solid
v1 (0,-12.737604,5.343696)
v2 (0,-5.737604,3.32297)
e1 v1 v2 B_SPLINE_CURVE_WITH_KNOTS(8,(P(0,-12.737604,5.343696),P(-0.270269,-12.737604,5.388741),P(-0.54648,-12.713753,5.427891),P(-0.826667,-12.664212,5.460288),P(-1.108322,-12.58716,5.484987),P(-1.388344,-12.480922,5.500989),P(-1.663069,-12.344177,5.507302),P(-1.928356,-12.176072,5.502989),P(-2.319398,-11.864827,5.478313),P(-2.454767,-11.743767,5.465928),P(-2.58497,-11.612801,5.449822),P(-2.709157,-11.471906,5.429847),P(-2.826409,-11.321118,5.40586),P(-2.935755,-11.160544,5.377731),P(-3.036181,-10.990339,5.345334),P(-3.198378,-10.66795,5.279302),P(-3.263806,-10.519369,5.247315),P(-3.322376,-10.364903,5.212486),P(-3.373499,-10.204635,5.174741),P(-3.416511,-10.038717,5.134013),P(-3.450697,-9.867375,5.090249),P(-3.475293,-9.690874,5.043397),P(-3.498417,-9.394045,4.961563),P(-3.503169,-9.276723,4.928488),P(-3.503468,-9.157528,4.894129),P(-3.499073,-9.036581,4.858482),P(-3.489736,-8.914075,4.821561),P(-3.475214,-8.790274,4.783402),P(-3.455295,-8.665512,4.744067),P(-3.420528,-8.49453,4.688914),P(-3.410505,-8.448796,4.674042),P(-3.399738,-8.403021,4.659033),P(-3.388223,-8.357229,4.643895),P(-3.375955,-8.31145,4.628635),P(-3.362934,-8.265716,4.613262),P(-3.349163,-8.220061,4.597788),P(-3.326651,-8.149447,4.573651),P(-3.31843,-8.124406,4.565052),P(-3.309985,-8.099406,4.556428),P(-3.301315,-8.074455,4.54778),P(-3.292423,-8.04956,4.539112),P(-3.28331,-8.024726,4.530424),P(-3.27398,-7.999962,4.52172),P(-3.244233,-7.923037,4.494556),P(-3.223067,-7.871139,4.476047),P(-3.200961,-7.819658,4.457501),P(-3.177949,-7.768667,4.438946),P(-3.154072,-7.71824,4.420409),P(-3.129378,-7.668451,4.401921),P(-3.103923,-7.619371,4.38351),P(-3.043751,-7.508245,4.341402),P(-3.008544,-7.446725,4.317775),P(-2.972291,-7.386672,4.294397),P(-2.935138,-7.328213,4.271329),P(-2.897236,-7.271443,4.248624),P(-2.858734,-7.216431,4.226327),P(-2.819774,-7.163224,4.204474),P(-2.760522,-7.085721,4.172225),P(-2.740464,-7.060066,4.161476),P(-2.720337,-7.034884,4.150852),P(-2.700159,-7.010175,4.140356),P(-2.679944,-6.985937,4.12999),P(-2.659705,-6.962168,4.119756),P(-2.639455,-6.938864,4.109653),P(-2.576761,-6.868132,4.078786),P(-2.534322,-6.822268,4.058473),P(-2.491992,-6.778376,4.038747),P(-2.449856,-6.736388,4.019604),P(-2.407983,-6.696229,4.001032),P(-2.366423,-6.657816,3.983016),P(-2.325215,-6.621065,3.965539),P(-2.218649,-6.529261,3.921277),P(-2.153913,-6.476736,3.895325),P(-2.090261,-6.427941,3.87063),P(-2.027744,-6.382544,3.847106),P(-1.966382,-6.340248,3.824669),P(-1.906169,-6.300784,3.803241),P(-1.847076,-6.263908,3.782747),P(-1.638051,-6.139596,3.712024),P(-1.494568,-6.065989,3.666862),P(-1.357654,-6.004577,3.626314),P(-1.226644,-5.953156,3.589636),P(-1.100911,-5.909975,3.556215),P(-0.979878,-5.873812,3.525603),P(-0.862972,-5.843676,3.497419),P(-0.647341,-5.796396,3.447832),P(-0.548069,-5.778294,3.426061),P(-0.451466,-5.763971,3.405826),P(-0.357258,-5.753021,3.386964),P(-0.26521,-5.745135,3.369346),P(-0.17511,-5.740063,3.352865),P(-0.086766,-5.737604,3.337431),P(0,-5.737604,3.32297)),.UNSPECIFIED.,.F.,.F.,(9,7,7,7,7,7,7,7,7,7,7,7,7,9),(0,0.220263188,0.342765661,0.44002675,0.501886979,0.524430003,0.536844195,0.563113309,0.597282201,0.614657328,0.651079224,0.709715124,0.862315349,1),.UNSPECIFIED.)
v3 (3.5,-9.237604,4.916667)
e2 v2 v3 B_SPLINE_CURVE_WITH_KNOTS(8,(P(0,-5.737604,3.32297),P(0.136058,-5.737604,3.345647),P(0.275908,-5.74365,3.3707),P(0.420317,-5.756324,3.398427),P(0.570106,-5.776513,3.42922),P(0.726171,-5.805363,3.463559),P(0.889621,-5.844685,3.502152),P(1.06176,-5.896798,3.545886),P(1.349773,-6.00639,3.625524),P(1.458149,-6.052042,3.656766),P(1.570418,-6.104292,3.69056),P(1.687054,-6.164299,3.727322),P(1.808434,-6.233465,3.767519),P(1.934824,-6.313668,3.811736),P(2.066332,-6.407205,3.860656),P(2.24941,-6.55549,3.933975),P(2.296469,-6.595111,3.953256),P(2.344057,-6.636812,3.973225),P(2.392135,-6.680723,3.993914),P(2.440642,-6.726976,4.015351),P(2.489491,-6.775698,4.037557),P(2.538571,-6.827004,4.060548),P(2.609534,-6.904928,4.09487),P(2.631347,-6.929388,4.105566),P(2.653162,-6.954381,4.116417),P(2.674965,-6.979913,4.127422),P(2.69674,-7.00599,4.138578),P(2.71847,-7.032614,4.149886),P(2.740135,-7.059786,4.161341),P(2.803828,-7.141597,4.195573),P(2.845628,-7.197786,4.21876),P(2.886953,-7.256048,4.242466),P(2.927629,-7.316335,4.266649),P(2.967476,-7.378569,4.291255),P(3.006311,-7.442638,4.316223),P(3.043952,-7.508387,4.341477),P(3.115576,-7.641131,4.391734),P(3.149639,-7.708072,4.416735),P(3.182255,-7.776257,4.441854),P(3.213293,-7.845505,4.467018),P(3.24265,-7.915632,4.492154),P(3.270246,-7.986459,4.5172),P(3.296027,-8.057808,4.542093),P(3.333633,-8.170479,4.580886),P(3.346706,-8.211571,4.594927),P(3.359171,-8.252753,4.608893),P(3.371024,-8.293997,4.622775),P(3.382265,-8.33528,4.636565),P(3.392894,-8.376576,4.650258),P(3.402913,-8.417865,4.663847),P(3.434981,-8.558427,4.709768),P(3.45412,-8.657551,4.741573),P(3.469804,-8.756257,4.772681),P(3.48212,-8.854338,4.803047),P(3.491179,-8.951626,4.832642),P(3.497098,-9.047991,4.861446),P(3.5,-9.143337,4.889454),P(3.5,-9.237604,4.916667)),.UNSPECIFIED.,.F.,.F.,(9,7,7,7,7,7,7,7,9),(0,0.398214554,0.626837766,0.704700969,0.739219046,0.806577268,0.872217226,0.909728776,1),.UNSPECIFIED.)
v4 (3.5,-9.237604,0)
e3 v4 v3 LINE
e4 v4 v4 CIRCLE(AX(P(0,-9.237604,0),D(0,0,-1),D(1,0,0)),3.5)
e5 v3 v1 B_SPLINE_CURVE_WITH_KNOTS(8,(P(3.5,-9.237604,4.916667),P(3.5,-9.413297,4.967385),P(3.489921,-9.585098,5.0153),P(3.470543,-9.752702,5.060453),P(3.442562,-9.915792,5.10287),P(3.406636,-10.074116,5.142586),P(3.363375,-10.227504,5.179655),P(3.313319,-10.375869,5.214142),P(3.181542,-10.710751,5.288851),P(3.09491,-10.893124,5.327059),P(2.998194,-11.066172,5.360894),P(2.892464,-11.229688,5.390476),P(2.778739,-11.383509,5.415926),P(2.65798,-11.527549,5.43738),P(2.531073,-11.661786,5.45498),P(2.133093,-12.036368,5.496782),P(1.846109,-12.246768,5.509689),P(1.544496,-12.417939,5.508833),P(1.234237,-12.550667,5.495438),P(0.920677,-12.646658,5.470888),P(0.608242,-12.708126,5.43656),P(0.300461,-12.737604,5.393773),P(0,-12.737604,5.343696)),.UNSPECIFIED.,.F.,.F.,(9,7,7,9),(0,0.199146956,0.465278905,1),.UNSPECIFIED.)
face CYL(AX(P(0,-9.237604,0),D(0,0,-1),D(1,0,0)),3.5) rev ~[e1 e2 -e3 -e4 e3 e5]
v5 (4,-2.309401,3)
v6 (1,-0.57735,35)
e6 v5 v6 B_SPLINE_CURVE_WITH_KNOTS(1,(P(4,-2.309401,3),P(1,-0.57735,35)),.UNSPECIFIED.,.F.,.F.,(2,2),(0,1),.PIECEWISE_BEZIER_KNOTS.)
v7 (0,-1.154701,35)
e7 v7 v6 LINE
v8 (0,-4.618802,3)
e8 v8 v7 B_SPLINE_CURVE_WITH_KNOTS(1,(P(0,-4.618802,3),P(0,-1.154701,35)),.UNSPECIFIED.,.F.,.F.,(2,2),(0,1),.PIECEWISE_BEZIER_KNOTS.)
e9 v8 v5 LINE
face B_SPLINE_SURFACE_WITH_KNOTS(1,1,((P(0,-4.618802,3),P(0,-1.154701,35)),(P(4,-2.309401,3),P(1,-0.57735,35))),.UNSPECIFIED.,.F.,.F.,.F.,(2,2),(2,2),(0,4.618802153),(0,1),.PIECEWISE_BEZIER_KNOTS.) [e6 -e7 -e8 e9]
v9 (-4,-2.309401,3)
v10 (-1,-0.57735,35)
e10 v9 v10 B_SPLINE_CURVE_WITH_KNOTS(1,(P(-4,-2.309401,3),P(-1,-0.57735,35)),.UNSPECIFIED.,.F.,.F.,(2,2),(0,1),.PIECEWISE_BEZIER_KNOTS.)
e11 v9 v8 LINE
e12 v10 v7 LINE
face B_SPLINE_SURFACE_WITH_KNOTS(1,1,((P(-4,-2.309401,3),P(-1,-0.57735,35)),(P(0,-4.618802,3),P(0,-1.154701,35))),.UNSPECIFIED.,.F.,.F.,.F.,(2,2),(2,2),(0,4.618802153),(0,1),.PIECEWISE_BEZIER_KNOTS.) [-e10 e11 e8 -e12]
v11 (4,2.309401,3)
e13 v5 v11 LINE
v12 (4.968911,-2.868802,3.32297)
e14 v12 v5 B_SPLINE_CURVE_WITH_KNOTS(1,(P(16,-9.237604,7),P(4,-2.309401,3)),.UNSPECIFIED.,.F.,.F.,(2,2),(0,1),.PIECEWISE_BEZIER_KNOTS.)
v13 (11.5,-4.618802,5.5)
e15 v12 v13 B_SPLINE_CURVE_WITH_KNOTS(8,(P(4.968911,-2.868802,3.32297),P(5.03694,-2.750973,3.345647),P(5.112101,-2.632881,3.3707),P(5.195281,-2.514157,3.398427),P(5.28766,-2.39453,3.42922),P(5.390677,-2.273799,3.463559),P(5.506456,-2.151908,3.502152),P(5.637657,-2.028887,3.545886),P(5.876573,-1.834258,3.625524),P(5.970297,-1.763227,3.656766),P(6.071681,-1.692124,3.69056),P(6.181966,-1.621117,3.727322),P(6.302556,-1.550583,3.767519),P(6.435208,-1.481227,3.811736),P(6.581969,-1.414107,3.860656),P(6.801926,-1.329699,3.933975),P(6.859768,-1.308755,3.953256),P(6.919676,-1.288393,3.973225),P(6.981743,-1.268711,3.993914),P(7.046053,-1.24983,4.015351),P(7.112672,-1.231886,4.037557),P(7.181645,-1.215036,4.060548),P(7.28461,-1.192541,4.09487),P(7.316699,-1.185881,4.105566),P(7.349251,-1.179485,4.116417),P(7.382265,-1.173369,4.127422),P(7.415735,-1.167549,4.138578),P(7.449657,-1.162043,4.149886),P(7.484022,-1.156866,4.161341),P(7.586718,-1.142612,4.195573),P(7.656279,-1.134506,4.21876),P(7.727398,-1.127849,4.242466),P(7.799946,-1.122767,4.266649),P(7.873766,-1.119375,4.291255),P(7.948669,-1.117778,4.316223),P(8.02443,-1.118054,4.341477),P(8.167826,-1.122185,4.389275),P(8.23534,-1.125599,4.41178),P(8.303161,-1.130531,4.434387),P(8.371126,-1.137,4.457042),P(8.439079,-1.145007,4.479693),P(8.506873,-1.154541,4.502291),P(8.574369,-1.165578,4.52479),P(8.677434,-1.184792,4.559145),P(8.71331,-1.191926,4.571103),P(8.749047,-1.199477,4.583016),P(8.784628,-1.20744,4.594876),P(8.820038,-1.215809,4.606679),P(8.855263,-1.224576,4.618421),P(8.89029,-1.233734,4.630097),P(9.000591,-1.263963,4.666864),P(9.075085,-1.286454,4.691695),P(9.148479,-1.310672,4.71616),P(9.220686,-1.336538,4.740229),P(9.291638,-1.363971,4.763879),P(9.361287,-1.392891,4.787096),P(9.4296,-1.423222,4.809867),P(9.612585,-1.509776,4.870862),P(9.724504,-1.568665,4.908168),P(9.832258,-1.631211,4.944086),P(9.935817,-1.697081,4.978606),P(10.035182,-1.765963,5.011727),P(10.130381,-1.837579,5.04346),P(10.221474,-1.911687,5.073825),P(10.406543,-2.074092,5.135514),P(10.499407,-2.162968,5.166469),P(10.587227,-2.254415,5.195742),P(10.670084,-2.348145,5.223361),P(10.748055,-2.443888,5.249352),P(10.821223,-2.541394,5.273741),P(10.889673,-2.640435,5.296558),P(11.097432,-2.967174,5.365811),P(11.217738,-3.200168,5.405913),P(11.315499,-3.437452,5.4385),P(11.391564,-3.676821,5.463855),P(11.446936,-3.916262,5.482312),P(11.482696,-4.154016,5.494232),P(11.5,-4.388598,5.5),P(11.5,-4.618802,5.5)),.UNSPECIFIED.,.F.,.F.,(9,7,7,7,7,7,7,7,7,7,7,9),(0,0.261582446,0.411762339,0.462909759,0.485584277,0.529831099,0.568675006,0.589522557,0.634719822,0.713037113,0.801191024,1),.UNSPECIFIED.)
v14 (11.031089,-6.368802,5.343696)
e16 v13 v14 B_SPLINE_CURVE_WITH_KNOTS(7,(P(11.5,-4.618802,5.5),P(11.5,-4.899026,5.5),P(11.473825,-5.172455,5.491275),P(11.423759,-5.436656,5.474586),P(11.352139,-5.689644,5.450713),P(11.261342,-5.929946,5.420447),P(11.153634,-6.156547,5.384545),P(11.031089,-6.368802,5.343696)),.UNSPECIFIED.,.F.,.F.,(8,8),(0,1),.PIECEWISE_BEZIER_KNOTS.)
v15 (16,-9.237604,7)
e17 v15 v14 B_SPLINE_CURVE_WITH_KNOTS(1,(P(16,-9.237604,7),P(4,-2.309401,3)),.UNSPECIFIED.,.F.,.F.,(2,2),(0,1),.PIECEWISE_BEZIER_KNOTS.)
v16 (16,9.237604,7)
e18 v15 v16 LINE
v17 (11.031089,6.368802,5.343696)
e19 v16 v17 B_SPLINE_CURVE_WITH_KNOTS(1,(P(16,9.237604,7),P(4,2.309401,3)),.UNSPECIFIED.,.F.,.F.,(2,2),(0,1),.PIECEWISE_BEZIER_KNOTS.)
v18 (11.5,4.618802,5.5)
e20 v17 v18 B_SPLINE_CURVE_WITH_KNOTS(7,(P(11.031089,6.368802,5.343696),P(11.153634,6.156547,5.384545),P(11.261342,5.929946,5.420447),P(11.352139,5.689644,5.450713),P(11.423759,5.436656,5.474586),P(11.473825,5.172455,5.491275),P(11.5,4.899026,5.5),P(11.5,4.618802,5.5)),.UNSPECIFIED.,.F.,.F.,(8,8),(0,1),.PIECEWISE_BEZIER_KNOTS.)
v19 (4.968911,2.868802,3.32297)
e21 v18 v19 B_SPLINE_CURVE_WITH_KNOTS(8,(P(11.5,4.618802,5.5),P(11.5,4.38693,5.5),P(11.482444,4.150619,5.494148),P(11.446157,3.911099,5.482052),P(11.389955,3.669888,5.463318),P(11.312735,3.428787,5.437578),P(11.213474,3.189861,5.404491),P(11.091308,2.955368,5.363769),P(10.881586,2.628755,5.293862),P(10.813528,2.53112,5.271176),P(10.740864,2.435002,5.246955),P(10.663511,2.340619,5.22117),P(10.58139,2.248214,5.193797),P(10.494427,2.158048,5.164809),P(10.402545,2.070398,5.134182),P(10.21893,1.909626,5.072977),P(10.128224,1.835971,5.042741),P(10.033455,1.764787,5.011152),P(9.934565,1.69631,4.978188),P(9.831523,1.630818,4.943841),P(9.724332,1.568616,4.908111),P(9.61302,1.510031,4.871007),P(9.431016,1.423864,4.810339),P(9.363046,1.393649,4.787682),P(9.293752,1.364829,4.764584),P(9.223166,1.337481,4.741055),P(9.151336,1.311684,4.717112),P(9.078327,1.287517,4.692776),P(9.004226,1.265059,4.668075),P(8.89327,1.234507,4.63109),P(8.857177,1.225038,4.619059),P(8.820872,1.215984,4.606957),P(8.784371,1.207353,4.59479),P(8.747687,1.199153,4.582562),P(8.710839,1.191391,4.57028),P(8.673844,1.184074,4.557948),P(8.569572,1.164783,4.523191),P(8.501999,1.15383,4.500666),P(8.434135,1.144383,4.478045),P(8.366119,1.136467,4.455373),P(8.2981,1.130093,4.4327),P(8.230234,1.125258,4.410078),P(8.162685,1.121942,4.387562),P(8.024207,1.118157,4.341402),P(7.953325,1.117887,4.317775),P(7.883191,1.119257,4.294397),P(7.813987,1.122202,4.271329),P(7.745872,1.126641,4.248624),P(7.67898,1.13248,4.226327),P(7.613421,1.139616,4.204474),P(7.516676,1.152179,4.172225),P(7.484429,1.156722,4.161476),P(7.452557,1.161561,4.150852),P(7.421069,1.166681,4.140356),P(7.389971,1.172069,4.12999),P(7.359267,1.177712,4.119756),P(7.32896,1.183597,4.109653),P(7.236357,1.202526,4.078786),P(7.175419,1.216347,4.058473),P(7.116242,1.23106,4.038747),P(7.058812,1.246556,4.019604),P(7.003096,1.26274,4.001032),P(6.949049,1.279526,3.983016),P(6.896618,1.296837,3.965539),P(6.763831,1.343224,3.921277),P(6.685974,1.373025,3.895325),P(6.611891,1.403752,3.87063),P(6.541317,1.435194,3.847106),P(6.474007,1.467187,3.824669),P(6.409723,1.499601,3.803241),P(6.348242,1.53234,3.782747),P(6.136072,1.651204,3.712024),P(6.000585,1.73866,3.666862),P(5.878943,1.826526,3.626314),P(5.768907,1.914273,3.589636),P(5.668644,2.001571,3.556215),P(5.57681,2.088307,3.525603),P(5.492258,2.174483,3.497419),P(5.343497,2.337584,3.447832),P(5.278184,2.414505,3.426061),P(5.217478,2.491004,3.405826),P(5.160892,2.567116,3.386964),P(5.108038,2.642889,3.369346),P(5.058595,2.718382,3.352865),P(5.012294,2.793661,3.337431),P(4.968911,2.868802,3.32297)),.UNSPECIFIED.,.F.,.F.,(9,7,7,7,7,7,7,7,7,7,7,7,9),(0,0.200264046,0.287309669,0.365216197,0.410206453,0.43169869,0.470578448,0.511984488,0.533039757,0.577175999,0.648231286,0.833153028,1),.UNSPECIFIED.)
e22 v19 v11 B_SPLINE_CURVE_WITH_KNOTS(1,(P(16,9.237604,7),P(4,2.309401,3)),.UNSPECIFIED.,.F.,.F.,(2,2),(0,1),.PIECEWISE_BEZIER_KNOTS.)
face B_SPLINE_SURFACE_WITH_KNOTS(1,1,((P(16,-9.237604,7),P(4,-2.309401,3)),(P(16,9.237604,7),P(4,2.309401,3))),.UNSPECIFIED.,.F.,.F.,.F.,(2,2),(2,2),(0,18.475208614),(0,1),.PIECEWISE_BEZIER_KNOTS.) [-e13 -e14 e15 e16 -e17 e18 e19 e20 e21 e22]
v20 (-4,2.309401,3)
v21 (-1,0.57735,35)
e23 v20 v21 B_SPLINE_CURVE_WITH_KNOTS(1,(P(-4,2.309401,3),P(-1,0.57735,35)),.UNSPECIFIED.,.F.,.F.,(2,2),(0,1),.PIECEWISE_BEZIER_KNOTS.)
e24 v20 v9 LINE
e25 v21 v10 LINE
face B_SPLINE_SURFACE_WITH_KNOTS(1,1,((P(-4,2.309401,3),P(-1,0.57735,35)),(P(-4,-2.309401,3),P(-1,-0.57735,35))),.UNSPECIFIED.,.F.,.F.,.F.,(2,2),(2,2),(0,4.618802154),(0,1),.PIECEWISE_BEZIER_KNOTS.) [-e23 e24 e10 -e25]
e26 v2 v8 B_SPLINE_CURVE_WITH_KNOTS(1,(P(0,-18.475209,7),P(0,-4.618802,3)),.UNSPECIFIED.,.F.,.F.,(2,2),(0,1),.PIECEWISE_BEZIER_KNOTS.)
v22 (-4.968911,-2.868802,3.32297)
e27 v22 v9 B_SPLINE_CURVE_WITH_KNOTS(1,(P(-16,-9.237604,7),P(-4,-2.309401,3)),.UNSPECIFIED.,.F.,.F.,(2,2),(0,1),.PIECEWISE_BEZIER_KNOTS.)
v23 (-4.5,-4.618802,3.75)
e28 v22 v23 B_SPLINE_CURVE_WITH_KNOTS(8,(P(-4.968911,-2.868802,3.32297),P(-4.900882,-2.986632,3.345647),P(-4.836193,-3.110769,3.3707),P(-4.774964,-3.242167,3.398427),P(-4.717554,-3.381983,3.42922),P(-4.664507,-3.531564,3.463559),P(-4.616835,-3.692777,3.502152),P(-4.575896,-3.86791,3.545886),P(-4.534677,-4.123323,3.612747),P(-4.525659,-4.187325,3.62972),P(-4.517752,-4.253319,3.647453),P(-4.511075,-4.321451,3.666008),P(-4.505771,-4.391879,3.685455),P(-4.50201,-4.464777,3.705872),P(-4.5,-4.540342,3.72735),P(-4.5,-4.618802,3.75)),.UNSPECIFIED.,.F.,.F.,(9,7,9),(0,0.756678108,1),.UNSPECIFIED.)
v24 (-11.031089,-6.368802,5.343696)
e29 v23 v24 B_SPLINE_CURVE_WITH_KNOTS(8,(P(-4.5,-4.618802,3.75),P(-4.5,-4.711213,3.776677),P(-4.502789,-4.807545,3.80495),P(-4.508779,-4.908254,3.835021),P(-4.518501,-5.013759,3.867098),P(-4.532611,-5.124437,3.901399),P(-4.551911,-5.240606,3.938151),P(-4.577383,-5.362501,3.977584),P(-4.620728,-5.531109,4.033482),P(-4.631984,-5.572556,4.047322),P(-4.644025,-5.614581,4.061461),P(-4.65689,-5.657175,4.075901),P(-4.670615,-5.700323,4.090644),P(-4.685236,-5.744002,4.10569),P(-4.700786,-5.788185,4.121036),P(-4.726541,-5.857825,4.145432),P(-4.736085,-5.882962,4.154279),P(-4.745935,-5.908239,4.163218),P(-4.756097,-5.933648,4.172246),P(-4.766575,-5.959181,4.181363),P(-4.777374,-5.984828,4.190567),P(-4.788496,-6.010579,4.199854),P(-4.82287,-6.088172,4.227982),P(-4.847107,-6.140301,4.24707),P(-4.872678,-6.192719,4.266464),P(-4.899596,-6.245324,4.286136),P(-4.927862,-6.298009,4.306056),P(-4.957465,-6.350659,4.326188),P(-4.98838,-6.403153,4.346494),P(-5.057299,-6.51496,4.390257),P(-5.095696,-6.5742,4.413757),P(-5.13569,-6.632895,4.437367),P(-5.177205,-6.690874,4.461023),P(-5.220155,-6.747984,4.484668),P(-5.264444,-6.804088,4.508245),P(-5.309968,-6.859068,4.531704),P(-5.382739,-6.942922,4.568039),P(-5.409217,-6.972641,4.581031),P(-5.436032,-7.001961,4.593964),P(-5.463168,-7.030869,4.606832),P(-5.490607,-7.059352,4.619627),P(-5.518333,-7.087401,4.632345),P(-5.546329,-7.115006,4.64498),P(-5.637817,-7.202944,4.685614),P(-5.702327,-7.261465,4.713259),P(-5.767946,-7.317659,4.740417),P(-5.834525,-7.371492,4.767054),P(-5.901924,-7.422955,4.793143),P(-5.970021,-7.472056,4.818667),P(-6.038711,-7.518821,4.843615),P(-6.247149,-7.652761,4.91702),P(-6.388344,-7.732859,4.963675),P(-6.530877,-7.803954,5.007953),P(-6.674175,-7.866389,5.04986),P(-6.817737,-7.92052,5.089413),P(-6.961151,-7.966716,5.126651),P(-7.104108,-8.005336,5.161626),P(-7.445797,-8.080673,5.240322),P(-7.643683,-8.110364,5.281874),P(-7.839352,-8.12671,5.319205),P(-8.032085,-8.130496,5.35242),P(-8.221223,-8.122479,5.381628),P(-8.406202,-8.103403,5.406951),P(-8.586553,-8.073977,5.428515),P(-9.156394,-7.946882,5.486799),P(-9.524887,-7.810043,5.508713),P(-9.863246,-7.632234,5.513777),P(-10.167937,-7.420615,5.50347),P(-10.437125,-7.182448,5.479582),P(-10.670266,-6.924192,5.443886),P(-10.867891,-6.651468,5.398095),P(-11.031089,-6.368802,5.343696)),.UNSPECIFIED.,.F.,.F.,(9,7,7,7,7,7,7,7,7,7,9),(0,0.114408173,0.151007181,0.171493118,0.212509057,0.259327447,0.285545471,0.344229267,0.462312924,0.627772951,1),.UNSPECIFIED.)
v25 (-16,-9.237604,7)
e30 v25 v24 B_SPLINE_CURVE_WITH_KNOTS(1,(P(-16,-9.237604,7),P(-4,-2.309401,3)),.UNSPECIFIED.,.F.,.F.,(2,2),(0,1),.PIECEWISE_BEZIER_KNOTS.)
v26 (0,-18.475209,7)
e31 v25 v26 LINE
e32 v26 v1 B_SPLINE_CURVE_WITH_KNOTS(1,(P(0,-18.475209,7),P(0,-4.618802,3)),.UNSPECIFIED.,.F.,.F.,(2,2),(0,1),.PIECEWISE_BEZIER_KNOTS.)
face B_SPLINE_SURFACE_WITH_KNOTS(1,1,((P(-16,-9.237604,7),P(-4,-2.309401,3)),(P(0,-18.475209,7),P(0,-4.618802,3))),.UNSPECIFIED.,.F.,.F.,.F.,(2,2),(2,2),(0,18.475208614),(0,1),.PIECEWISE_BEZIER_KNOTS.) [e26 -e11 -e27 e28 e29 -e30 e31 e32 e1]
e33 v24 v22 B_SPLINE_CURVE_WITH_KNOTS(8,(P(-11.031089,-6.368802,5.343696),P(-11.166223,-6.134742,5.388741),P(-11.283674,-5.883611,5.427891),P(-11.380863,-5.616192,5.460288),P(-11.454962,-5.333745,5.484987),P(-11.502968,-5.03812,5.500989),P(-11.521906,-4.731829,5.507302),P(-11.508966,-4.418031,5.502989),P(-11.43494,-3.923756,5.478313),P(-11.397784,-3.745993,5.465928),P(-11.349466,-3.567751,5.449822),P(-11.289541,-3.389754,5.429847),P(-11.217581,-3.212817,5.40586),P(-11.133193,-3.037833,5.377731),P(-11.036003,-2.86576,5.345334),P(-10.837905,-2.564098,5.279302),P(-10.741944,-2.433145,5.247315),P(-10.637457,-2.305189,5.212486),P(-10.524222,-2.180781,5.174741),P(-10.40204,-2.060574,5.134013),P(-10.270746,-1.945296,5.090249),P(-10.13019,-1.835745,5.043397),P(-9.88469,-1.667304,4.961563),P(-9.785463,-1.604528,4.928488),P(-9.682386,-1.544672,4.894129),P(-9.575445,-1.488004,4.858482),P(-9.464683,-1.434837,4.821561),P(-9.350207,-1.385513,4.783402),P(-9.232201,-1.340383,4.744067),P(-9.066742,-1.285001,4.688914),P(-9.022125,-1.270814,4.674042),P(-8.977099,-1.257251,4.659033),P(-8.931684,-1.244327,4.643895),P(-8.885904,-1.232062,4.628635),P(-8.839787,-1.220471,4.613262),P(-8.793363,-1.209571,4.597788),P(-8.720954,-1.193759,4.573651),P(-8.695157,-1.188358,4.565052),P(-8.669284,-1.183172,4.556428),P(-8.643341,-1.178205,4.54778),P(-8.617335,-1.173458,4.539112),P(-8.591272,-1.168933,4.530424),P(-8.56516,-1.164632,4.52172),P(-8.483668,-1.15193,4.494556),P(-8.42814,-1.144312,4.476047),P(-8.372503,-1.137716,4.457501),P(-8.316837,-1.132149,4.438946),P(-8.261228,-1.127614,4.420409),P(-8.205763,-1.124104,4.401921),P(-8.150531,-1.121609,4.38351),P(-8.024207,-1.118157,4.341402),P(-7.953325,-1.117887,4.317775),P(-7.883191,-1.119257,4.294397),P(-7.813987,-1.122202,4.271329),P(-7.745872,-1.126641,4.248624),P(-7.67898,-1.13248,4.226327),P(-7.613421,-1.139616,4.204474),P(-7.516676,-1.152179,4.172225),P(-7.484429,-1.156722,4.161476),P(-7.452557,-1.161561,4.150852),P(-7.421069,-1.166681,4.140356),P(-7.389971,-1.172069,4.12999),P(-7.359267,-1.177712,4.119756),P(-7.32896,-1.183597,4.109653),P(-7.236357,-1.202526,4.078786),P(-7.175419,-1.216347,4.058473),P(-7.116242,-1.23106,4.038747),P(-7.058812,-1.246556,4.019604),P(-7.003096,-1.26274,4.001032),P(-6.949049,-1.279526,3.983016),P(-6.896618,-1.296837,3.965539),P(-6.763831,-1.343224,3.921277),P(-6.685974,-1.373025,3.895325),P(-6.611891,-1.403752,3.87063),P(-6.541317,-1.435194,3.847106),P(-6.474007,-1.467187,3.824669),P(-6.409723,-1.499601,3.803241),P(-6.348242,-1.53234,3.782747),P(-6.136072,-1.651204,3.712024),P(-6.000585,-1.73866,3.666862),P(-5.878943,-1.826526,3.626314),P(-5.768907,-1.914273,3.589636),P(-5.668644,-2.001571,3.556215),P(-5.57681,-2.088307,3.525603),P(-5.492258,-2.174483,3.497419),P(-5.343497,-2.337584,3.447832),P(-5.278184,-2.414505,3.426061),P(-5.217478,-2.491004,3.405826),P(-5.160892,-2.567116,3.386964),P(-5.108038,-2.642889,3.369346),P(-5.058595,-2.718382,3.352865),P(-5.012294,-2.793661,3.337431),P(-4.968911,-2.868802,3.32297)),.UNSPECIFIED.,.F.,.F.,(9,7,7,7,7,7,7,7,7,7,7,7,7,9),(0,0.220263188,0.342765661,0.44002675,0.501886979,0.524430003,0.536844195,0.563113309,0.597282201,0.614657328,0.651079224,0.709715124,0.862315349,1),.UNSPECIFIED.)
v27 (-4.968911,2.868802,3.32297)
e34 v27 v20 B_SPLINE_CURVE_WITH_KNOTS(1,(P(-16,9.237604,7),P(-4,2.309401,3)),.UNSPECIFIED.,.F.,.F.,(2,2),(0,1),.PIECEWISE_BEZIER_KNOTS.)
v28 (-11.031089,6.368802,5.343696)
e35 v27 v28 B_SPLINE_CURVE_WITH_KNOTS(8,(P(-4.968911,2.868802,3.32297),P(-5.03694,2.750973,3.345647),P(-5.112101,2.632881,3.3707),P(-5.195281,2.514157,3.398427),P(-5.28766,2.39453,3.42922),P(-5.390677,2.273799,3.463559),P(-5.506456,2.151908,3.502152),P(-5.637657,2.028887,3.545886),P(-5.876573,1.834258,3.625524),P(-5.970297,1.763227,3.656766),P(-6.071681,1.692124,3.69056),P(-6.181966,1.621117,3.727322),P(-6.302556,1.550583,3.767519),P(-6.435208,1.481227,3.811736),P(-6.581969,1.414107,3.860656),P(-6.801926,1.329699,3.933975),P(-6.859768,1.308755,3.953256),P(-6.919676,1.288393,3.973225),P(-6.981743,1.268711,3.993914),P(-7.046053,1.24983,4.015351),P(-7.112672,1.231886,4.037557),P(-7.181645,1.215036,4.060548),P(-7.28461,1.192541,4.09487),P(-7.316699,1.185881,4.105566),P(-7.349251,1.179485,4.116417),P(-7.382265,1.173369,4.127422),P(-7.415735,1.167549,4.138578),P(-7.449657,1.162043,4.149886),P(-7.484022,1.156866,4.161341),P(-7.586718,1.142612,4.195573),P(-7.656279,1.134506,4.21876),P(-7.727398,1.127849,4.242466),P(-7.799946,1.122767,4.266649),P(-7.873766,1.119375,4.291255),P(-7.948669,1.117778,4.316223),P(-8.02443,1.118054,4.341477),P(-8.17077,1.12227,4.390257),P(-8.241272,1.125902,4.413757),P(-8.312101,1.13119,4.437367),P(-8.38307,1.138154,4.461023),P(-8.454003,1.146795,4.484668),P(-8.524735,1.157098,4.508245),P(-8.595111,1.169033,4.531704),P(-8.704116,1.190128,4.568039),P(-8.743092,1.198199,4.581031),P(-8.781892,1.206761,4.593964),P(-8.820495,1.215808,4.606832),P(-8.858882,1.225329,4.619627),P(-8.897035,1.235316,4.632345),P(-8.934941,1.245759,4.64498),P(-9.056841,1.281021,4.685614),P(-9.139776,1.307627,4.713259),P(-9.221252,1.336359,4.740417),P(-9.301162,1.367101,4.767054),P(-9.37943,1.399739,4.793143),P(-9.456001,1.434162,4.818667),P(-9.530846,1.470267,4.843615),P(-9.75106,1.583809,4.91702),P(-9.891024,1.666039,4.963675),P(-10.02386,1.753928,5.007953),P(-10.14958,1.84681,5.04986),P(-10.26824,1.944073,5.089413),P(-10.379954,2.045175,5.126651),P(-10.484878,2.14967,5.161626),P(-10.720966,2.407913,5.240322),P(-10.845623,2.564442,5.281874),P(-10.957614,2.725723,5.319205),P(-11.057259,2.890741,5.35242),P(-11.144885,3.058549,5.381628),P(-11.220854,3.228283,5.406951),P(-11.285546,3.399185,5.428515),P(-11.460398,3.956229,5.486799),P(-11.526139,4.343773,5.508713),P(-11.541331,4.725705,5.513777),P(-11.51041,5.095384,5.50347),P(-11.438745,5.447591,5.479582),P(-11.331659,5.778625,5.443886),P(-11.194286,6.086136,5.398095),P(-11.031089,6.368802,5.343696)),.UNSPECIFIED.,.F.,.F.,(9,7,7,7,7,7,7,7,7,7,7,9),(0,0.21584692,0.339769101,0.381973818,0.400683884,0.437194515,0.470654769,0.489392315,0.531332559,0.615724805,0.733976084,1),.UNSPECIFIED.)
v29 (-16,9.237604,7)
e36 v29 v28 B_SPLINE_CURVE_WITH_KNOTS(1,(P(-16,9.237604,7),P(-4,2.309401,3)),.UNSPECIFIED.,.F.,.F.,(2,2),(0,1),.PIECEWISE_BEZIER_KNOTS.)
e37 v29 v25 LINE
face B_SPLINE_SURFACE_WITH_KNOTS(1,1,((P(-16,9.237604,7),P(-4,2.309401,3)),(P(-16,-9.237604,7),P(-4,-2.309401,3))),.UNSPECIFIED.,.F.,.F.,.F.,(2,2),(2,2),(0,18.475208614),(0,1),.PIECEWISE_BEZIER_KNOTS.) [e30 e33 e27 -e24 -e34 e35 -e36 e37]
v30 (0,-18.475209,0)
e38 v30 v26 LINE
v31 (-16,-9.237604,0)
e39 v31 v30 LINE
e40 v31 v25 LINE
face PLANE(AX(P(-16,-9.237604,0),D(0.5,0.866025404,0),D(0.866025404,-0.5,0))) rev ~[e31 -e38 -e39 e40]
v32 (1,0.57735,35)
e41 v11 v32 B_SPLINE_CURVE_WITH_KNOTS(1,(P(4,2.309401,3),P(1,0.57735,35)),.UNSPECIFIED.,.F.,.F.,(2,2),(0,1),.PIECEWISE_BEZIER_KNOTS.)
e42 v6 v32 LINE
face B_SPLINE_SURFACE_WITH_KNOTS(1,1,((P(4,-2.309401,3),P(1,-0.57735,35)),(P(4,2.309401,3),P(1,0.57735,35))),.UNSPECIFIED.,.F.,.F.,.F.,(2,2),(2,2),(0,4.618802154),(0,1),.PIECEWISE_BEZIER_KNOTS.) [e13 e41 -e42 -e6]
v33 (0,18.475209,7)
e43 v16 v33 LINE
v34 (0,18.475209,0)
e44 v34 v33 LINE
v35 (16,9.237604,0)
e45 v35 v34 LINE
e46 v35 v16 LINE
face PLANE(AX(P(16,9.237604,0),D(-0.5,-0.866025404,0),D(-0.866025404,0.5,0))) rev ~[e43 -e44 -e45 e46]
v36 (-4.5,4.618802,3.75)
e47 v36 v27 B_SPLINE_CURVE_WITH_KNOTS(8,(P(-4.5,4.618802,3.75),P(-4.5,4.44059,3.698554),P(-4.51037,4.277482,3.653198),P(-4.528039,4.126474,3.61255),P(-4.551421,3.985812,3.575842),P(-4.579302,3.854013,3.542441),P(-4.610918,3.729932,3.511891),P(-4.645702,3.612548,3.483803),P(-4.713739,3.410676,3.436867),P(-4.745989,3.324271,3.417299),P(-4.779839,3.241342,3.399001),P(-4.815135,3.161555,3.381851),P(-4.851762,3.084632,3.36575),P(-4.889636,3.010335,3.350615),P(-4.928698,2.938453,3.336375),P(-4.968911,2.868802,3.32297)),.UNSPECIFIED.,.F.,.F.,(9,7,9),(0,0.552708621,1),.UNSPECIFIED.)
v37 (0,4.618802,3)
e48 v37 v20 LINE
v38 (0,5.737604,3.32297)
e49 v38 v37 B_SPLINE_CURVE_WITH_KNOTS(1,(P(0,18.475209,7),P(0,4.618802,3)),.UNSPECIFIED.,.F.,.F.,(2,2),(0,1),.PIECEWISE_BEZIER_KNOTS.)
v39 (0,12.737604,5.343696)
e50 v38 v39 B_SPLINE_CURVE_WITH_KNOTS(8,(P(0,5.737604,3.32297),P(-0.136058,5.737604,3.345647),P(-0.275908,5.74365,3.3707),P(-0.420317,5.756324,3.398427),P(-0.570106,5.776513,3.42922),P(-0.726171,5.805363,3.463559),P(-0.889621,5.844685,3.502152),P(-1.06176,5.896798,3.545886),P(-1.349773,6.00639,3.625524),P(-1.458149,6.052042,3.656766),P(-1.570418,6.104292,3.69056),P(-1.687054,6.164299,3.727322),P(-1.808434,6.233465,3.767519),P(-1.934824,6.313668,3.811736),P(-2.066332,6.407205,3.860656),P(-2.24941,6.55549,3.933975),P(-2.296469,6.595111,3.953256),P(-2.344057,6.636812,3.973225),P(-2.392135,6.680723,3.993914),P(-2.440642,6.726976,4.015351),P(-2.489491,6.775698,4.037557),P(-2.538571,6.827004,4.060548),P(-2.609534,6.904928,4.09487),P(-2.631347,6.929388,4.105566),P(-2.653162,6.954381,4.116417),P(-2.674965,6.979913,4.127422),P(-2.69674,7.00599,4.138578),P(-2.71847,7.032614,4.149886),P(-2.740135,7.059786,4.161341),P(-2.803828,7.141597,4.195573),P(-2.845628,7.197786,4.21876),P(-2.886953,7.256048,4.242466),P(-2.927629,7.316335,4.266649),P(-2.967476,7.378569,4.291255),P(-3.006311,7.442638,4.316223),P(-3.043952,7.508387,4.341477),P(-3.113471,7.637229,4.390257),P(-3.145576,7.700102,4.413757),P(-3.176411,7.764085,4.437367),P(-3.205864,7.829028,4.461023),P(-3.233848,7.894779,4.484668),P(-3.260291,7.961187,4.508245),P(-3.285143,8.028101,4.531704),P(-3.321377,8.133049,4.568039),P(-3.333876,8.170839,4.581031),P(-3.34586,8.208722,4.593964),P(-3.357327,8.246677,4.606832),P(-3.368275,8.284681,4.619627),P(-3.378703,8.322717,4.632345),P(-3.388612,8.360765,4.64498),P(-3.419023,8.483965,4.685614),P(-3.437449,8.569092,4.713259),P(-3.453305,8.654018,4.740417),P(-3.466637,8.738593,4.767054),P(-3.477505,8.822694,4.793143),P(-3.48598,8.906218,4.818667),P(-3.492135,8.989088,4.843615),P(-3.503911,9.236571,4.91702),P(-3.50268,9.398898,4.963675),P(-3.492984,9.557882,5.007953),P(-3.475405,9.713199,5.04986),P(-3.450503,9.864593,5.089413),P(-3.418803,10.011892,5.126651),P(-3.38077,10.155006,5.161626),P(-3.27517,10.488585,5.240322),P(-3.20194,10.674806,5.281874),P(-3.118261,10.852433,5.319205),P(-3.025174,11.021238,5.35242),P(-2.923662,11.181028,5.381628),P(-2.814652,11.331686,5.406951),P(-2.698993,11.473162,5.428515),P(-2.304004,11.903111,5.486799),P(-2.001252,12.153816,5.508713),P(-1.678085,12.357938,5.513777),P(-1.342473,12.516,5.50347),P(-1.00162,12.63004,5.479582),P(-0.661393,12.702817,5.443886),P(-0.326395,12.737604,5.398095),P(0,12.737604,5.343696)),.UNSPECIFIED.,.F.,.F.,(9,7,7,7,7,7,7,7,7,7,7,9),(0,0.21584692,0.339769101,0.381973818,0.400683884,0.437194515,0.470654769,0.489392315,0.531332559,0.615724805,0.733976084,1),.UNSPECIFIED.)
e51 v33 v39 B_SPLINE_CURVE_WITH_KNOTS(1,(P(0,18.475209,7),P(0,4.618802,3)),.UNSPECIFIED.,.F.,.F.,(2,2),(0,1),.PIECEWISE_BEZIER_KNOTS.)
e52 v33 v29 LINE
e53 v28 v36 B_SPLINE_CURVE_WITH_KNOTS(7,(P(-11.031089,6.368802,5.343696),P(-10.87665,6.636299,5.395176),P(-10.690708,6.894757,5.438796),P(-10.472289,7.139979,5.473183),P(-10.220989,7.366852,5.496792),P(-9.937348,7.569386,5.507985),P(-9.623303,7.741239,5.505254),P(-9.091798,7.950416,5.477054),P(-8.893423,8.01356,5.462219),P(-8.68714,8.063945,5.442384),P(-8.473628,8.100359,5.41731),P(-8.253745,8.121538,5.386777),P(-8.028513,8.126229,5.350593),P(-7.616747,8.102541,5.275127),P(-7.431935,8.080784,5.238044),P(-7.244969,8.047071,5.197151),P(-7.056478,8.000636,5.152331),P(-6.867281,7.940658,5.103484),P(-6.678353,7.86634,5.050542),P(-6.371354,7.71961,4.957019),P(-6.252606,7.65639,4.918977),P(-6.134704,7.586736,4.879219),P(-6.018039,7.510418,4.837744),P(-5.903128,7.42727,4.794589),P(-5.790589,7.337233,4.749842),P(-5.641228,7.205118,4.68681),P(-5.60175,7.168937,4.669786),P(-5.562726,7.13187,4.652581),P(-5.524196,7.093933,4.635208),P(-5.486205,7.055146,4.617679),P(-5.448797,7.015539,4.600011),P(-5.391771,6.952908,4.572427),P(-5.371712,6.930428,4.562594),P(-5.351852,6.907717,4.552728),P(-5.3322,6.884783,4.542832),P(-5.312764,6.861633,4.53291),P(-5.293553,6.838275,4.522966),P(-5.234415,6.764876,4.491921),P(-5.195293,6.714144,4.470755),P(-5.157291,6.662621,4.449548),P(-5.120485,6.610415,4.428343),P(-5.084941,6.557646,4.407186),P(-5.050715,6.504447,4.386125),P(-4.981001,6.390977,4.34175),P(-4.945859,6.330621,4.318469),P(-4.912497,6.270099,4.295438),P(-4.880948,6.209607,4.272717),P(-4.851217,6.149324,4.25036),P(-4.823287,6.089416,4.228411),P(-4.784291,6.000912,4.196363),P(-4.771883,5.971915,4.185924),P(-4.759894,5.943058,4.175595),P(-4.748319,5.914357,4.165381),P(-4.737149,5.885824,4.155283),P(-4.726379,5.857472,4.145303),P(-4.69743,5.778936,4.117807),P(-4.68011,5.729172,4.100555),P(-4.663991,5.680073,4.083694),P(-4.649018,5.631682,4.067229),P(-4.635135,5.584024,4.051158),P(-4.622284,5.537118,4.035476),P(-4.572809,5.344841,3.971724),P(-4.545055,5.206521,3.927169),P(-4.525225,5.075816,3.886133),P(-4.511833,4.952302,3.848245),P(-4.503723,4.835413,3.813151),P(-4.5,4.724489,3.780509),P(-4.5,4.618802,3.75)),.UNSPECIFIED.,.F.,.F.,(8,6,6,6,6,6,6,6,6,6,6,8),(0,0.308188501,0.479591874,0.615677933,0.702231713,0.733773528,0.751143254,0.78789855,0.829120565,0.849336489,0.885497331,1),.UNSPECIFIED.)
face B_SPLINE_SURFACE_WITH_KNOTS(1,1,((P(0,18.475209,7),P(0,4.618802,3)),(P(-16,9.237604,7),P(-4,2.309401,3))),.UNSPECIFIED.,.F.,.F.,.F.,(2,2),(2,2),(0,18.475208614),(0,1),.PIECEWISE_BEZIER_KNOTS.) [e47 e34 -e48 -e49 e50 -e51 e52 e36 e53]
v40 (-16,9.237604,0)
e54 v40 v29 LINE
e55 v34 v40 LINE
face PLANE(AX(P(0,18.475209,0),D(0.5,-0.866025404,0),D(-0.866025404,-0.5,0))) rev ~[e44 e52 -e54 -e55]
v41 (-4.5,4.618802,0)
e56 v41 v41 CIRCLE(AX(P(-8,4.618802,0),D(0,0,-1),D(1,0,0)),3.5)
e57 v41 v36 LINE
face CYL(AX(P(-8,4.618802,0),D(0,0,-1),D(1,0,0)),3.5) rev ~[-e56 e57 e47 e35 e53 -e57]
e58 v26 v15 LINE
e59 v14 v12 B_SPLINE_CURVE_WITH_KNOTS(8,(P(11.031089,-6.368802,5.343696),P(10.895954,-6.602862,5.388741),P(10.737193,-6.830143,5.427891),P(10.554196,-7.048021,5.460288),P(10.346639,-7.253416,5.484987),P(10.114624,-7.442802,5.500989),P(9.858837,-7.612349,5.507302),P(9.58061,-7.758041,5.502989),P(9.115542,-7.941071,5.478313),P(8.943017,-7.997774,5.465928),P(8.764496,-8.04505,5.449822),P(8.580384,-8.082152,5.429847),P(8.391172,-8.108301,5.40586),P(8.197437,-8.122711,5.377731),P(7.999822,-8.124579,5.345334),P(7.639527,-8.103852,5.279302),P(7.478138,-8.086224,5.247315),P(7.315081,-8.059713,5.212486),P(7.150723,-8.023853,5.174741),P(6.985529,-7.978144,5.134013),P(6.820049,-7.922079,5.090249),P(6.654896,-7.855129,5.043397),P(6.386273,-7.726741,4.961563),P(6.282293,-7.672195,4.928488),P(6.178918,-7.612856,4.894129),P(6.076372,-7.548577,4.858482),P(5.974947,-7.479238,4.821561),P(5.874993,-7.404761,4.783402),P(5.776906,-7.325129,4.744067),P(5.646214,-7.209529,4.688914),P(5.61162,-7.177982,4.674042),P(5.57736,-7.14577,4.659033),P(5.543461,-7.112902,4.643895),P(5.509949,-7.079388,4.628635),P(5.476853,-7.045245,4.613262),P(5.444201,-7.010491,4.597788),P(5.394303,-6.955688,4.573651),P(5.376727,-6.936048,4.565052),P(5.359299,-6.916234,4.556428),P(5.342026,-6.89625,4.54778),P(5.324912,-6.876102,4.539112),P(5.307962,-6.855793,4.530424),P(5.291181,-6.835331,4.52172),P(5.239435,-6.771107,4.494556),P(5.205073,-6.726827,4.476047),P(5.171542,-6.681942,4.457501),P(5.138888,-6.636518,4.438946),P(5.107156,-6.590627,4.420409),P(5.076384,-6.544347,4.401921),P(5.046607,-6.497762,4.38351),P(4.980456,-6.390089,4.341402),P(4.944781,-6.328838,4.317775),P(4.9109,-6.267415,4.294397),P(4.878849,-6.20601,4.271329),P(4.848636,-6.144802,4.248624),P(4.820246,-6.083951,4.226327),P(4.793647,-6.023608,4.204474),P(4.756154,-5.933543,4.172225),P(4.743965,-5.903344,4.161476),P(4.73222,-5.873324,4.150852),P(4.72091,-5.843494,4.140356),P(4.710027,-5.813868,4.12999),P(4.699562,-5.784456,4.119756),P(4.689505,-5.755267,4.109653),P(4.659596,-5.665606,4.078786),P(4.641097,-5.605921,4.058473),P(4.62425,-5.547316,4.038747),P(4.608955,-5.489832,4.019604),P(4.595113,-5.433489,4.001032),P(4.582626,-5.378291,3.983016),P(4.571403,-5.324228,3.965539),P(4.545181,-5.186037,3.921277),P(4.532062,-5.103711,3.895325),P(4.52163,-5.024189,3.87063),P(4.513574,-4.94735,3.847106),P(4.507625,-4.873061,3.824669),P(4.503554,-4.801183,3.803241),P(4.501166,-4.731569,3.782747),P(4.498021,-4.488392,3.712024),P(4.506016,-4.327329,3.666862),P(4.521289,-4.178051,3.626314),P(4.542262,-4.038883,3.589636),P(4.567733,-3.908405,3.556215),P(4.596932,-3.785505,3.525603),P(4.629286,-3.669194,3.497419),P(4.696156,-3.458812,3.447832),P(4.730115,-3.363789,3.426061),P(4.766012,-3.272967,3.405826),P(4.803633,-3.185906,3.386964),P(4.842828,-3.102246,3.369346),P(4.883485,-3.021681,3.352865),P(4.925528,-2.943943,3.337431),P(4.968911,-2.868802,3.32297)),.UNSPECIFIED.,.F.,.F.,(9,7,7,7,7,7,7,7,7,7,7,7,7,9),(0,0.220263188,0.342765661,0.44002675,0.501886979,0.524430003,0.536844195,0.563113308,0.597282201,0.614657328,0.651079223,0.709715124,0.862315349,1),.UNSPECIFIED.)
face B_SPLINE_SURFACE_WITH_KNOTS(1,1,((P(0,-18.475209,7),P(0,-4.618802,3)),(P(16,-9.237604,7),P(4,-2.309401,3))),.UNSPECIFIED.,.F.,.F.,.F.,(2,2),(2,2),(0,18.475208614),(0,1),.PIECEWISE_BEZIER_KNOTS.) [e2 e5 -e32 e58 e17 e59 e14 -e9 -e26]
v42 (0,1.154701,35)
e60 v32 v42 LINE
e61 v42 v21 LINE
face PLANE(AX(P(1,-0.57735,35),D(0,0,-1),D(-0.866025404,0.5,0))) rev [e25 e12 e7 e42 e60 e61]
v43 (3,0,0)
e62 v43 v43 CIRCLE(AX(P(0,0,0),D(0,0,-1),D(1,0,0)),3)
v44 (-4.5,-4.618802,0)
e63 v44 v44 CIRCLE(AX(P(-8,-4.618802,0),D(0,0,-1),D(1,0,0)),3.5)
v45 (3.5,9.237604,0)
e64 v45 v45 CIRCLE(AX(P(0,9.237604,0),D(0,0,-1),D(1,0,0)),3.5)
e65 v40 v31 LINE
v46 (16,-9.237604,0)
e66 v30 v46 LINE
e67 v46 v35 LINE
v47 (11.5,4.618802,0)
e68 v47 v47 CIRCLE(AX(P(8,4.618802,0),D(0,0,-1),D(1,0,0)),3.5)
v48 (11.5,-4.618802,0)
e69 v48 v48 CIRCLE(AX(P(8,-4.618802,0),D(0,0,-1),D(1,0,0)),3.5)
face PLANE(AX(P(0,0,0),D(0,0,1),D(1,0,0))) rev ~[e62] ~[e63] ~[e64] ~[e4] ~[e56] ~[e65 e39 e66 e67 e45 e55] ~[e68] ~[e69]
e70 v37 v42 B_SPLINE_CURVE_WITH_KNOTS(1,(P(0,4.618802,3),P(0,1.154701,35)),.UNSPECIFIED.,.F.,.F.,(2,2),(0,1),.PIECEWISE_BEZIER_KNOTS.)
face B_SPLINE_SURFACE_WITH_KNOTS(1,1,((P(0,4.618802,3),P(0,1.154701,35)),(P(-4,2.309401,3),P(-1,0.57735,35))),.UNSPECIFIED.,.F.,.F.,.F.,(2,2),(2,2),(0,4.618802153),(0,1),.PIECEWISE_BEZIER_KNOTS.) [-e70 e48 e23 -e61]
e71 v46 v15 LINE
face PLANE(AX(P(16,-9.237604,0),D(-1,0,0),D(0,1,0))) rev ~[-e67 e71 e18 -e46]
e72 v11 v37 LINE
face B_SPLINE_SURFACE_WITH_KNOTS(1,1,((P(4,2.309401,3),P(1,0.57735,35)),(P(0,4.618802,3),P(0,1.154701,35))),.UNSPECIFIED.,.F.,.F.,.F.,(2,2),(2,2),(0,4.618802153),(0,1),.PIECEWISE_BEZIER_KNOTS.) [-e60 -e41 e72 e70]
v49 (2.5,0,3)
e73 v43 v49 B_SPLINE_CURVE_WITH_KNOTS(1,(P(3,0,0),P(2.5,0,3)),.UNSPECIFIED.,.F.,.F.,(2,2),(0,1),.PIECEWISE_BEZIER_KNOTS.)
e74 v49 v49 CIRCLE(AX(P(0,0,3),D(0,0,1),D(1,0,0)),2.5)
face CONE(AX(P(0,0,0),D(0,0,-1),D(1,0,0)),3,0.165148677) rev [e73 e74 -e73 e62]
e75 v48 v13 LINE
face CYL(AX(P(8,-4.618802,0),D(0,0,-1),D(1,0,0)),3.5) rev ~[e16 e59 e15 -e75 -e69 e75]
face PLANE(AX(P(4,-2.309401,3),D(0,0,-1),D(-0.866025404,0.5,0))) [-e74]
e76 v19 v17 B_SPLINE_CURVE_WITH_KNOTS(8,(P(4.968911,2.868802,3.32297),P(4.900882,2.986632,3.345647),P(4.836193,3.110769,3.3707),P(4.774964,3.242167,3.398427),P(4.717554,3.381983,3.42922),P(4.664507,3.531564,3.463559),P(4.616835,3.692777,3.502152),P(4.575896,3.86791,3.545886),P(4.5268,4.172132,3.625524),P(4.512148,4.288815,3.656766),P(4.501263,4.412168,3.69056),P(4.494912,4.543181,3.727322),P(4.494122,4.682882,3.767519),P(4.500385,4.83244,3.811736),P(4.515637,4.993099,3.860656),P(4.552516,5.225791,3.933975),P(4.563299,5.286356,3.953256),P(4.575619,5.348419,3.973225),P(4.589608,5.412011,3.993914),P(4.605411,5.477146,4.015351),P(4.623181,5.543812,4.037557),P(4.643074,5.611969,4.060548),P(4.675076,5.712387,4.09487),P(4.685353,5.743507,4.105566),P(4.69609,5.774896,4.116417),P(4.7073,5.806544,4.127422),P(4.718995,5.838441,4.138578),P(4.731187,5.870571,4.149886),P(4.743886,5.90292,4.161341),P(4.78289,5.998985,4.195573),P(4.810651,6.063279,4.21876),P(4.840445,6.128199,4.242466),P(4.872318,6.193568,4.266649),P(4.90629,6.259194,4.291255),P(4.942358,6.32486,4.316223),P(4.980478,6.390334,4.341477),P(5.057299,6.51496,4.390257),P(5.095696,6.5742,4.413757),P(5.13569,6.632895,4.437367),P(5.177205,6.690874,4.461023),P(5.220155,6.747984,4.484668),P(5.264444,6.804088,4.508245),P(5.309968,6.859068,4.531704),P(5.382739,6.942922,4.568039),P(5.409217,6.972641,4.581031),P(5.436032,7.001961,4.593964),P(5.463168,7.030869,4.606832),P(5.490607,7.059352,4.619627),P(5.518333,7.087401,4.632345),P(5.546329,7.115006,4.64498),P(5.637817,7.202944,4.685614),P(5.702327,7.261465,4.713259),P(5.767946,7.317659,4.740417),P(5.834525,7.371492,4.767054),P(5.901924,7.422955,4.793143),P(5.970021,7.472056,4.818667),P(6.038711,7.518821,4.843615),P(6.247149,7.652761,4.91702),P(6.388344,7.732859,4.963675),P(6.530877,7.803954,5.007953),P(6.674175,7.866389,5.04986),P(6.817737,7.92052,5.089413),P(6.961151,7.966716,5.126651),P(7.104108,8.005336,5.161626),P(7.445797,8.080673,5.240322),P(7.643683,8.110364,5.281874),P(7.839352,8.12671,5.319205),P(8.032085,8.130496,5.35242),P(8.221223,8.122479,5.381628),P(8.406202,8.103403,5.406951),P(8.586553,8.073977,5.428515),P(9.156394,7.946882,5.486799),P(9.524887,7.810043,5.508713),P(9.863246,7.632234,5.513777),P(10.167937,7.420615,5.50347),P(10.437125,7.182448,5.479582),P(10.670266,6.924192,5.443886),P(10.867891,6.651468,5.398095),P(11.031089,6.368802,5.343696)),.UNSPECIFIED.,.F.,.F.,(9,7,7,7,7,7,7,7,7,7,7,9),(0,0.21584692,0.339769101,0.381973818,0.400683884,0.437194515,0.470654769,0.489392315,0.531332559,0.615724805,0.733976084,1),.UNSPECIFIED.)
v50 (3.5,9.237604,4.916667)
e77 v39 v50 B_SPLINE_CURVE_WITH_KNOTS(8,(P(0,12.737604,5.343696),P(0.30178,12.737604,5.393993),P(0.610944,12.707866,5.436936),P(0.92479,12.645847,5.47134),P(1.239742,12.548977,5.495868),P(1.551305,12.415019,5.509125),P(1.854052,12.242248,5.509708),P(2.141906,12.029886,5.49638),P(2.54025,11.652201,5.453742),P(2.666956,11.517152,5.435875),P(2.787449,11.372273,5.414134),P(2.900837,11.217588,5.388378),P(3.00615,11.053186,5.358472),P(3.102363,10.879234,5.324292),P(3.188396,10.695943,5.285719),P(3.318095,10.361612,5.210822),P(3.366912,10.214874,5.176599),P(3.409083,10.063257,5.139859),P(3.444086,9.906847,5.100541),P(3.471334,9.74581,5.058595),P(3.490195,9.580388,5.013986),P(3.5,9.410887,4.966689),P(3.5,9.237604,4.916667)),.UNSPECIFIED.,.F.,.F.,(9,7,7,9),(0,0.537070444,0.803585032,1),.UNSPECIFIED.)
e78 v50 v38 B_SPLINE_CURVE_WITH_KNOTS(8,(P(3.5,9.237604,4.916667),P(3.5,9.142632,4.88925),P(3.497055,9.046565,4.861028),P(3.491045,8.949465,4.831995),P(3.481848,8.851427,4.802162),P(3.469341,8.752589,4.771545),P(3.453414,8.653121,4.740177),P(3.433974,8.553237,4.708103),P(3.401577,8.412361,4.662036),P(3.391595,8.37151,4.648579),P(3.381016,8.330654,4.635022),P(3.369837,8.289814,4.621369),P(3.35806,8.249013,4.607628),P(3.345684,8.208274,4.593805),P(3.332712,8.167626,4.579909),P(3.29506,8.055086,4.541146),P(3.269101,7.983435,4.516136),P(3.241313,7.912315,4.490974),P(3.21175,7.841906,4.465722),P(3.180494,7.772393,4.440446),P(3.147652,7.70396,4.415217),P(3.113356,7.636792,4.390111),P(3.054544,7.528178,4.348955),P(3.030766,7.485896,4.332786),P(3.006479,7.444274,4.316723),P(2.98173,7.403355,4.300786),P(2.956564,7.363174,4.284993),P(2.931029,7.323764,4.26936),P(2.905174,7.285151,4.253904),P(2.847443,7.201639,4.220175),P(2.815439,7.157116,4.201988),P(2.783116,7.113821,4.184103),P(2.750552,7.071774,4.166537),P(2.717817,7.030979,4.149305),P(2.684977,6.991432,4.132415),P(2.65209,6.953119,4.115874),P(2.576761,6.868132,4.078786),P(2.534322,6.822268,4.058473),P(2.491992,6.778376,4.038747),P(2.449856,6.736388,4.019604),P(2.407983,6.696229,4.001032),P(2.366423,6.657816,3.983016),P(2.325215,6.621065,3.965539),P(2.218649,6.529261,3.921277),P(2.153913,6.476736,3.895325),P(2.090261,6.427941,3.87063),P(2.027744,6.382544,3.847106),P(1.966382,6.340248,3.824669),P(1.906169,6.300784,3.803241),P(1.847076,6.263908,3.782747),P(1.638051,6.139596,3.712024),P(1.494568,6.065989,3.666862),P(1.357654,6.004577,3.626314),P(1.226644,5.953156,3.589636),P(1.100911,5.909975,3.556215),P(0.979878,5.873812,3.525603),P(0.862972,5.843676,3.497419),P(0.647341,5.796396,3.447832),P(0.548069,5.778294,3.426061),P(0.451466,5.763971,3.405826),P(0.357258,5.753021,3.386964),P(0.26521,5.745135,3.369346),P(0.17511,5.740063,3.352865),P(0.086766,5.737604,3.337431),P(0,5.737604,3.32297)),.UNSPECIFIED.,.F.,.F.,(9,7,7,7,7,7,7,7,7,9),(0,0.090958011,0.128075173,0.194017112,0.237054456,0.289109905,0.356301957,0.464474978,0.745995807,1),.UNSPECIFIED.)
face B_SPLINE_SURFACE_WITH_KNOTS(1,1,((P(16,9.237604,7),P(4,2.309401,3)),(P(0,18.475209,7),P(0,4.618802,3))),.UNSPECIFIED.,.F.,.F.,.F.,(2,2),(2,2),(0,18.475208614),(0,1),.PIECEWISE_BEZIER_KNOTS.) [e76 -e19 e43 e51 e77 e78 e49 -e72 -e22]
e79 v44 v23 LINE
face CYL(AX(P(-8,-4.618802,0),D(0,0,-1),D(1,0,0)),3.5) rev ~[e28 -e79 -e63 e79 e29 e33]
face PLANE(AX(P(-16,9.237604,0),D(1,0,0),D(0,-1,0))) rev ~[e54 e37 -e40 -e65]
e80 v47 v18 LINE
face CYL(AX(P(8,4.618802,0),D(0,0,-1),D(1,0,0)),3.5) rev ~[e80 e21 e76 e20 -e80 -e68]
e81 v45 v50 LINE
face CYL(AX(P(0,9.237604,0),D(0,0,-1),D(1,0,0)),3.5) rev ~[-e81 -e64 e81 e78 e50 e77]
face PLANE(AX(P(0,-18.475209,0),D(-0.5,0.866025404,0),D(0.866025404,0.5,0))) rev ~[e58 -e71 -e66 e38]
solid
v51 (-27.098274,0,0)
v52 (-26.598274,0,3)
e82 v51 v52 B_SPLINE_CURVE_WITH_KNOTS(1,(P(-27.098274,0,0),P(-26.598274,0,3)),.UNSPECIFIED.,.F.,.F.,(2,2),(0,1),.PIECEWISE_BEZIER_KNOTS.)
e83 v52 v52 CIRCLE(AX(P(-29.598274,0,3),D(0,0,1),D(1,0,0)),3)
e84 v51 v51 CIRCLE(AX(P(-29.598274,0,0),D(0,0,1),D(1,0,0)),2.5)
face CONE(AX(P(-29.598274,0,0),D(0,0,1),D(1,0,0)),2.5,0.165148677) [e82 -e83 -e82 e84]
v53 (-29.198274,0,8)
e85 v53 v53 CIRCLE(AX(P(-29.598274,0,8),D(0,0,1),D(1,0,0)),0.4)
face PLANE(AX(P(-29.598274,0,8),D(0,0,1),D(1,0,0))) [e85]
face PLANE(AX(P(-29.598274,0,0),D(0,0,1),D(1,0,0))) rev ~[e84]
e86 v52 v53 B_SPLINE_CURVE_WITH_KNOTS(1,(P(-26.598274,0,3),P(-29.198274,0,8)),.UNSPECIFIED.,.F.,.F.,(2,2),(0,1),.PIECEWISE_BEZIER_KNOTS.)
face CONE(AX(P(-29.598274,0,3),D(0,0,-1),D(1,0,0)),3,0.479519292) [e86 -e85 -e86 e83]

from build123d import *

# Parameters (mm, degrees)
F1_DEPTH   = 7
F5_R       = 3
F6_R       = 2.5
F8_R       = 3.5
F9_DEPTH   = 7
F14_R      = 2.5
F16_R      = 3
F19_FACE_R = 3
F18_R      = 0.4


with BuildPart() as f1:
    # F0 (on Top) → F1 (new body)
    with BuildSketch(Plane.XY):
        Polygon((16, -9.237604307), (16, 9.237604307), (0, 18.4752086141), (-16, 9.237604307), (-16, -9.237604307), (0, -18.4752086141), align=None)
    extrude(amount=F1_DEPTH)

    # F1_face (on face) → F4 section 0
    with BuildSketch(Plane.XY.offset(7)):
        Polygon((0, -18.4752086141), (16, -9.237604307), (16, 9.237604307), (0, 18.4752086141), (-16, 9.237604307), (-16, -9.237604307), align=None)
    # F3 (on offset) → F4 section 1
    with BuildSketch(Plane.XY.offset(3)):
        Polygon((4, -2.3094010768), (4, 2.3094010768), (0, 4.6188021535), (-4, 2.3094010768), (-4, -2.3094010768), (0, -4.6188021535), align=None)
    loft(mode=Mode.SUBTRACT)

    # F5 (on face) → F7 section 0
    with BuildSketch(Plane(origin=(0, 0, 0), x_dir=(1, 0, 0), z_dir=(0, 0, -1))):
        Circle(F5_R)
    # F6 (on offset) → F7 section 1
    with BuildSketch(Plane.XY.offset(3)):
        Circle(F6_R)
    loft(mode=Mode.SUBTRACT)

    # F8 (on face) → F9 (cut)
    with BuildSketch(Plane(origin=(0, 0, 0), x_dir=(1, 0, 0), z_dir=(0, 0, -1))):
        with Locations((-8, 4.6188021535)):
            Circle(F8_R)
        with Locations((0, 9.237604307)):
            Circle(F8_R)
        with Locations((8, 4.6188021535)):
            Circle(F8_R)
        with Locations((8, -4.6188021535)):
            Circle(F8_R)
        with Locations((0, -9.237604307)):
            Circle(F8_R)
        with Locations((-8, -4.6188021535)):
            Circle(F8_R)
    extrude(amount=-F9_DEPTH, mode=Mode.SUBTRACT)

    # F12 (on face) → F13 section 0
    with BuildSketch(Plane.XY.offset(3)):
        Polygon((4, -2.3094010768), (4, 2.3094010768), (0, 4.6188021535), (-4, 2.3094010768), (-4, -2.3094010768), (0, -4.6188021535), align=None)
    # F11 (on offset) → F13 section 1
    with BuildSketch(Plane.XY.offset(35)):
        Polygon((1, -0.5773502692), (1, 0.5773502692), (0, 1.1547005384), (-1, 0.5773502692), (-1, -0.5773502692), (0, -1.1547005384), align=None)
    loft()


with BuildPart() as f19:
    # F14 (on Top) → F19 section 0
    with BuildSketch(Plane.XY):
        with Locations((-29.5982741499, 0)):
            Circle(F14_R)
    # F16 (on offset) → F19 section 1
    with BuildSketch(Plane.XY.offset(3)):
        with Locations((-29.5982741499, 0)):
            Circle(F16_R)
    loft()

    # F19_face (on face) → F20 section 0
    with BuildSketch(Plane(origin=(-29.5982741499, 0, 3), x_dir=(1, 0, 0), z_dir=(0, 0, 1))):
        Circle(F19_FACE_R)
    # F18 (on offset) → F20 section 1
    with BuildSketch(Plane.XY.offset(8)):
        with Locations((-29.5982741499, 0)):
            Circle(F18_R)
    loft()


solid = Compound([f1.part, f19.part])
